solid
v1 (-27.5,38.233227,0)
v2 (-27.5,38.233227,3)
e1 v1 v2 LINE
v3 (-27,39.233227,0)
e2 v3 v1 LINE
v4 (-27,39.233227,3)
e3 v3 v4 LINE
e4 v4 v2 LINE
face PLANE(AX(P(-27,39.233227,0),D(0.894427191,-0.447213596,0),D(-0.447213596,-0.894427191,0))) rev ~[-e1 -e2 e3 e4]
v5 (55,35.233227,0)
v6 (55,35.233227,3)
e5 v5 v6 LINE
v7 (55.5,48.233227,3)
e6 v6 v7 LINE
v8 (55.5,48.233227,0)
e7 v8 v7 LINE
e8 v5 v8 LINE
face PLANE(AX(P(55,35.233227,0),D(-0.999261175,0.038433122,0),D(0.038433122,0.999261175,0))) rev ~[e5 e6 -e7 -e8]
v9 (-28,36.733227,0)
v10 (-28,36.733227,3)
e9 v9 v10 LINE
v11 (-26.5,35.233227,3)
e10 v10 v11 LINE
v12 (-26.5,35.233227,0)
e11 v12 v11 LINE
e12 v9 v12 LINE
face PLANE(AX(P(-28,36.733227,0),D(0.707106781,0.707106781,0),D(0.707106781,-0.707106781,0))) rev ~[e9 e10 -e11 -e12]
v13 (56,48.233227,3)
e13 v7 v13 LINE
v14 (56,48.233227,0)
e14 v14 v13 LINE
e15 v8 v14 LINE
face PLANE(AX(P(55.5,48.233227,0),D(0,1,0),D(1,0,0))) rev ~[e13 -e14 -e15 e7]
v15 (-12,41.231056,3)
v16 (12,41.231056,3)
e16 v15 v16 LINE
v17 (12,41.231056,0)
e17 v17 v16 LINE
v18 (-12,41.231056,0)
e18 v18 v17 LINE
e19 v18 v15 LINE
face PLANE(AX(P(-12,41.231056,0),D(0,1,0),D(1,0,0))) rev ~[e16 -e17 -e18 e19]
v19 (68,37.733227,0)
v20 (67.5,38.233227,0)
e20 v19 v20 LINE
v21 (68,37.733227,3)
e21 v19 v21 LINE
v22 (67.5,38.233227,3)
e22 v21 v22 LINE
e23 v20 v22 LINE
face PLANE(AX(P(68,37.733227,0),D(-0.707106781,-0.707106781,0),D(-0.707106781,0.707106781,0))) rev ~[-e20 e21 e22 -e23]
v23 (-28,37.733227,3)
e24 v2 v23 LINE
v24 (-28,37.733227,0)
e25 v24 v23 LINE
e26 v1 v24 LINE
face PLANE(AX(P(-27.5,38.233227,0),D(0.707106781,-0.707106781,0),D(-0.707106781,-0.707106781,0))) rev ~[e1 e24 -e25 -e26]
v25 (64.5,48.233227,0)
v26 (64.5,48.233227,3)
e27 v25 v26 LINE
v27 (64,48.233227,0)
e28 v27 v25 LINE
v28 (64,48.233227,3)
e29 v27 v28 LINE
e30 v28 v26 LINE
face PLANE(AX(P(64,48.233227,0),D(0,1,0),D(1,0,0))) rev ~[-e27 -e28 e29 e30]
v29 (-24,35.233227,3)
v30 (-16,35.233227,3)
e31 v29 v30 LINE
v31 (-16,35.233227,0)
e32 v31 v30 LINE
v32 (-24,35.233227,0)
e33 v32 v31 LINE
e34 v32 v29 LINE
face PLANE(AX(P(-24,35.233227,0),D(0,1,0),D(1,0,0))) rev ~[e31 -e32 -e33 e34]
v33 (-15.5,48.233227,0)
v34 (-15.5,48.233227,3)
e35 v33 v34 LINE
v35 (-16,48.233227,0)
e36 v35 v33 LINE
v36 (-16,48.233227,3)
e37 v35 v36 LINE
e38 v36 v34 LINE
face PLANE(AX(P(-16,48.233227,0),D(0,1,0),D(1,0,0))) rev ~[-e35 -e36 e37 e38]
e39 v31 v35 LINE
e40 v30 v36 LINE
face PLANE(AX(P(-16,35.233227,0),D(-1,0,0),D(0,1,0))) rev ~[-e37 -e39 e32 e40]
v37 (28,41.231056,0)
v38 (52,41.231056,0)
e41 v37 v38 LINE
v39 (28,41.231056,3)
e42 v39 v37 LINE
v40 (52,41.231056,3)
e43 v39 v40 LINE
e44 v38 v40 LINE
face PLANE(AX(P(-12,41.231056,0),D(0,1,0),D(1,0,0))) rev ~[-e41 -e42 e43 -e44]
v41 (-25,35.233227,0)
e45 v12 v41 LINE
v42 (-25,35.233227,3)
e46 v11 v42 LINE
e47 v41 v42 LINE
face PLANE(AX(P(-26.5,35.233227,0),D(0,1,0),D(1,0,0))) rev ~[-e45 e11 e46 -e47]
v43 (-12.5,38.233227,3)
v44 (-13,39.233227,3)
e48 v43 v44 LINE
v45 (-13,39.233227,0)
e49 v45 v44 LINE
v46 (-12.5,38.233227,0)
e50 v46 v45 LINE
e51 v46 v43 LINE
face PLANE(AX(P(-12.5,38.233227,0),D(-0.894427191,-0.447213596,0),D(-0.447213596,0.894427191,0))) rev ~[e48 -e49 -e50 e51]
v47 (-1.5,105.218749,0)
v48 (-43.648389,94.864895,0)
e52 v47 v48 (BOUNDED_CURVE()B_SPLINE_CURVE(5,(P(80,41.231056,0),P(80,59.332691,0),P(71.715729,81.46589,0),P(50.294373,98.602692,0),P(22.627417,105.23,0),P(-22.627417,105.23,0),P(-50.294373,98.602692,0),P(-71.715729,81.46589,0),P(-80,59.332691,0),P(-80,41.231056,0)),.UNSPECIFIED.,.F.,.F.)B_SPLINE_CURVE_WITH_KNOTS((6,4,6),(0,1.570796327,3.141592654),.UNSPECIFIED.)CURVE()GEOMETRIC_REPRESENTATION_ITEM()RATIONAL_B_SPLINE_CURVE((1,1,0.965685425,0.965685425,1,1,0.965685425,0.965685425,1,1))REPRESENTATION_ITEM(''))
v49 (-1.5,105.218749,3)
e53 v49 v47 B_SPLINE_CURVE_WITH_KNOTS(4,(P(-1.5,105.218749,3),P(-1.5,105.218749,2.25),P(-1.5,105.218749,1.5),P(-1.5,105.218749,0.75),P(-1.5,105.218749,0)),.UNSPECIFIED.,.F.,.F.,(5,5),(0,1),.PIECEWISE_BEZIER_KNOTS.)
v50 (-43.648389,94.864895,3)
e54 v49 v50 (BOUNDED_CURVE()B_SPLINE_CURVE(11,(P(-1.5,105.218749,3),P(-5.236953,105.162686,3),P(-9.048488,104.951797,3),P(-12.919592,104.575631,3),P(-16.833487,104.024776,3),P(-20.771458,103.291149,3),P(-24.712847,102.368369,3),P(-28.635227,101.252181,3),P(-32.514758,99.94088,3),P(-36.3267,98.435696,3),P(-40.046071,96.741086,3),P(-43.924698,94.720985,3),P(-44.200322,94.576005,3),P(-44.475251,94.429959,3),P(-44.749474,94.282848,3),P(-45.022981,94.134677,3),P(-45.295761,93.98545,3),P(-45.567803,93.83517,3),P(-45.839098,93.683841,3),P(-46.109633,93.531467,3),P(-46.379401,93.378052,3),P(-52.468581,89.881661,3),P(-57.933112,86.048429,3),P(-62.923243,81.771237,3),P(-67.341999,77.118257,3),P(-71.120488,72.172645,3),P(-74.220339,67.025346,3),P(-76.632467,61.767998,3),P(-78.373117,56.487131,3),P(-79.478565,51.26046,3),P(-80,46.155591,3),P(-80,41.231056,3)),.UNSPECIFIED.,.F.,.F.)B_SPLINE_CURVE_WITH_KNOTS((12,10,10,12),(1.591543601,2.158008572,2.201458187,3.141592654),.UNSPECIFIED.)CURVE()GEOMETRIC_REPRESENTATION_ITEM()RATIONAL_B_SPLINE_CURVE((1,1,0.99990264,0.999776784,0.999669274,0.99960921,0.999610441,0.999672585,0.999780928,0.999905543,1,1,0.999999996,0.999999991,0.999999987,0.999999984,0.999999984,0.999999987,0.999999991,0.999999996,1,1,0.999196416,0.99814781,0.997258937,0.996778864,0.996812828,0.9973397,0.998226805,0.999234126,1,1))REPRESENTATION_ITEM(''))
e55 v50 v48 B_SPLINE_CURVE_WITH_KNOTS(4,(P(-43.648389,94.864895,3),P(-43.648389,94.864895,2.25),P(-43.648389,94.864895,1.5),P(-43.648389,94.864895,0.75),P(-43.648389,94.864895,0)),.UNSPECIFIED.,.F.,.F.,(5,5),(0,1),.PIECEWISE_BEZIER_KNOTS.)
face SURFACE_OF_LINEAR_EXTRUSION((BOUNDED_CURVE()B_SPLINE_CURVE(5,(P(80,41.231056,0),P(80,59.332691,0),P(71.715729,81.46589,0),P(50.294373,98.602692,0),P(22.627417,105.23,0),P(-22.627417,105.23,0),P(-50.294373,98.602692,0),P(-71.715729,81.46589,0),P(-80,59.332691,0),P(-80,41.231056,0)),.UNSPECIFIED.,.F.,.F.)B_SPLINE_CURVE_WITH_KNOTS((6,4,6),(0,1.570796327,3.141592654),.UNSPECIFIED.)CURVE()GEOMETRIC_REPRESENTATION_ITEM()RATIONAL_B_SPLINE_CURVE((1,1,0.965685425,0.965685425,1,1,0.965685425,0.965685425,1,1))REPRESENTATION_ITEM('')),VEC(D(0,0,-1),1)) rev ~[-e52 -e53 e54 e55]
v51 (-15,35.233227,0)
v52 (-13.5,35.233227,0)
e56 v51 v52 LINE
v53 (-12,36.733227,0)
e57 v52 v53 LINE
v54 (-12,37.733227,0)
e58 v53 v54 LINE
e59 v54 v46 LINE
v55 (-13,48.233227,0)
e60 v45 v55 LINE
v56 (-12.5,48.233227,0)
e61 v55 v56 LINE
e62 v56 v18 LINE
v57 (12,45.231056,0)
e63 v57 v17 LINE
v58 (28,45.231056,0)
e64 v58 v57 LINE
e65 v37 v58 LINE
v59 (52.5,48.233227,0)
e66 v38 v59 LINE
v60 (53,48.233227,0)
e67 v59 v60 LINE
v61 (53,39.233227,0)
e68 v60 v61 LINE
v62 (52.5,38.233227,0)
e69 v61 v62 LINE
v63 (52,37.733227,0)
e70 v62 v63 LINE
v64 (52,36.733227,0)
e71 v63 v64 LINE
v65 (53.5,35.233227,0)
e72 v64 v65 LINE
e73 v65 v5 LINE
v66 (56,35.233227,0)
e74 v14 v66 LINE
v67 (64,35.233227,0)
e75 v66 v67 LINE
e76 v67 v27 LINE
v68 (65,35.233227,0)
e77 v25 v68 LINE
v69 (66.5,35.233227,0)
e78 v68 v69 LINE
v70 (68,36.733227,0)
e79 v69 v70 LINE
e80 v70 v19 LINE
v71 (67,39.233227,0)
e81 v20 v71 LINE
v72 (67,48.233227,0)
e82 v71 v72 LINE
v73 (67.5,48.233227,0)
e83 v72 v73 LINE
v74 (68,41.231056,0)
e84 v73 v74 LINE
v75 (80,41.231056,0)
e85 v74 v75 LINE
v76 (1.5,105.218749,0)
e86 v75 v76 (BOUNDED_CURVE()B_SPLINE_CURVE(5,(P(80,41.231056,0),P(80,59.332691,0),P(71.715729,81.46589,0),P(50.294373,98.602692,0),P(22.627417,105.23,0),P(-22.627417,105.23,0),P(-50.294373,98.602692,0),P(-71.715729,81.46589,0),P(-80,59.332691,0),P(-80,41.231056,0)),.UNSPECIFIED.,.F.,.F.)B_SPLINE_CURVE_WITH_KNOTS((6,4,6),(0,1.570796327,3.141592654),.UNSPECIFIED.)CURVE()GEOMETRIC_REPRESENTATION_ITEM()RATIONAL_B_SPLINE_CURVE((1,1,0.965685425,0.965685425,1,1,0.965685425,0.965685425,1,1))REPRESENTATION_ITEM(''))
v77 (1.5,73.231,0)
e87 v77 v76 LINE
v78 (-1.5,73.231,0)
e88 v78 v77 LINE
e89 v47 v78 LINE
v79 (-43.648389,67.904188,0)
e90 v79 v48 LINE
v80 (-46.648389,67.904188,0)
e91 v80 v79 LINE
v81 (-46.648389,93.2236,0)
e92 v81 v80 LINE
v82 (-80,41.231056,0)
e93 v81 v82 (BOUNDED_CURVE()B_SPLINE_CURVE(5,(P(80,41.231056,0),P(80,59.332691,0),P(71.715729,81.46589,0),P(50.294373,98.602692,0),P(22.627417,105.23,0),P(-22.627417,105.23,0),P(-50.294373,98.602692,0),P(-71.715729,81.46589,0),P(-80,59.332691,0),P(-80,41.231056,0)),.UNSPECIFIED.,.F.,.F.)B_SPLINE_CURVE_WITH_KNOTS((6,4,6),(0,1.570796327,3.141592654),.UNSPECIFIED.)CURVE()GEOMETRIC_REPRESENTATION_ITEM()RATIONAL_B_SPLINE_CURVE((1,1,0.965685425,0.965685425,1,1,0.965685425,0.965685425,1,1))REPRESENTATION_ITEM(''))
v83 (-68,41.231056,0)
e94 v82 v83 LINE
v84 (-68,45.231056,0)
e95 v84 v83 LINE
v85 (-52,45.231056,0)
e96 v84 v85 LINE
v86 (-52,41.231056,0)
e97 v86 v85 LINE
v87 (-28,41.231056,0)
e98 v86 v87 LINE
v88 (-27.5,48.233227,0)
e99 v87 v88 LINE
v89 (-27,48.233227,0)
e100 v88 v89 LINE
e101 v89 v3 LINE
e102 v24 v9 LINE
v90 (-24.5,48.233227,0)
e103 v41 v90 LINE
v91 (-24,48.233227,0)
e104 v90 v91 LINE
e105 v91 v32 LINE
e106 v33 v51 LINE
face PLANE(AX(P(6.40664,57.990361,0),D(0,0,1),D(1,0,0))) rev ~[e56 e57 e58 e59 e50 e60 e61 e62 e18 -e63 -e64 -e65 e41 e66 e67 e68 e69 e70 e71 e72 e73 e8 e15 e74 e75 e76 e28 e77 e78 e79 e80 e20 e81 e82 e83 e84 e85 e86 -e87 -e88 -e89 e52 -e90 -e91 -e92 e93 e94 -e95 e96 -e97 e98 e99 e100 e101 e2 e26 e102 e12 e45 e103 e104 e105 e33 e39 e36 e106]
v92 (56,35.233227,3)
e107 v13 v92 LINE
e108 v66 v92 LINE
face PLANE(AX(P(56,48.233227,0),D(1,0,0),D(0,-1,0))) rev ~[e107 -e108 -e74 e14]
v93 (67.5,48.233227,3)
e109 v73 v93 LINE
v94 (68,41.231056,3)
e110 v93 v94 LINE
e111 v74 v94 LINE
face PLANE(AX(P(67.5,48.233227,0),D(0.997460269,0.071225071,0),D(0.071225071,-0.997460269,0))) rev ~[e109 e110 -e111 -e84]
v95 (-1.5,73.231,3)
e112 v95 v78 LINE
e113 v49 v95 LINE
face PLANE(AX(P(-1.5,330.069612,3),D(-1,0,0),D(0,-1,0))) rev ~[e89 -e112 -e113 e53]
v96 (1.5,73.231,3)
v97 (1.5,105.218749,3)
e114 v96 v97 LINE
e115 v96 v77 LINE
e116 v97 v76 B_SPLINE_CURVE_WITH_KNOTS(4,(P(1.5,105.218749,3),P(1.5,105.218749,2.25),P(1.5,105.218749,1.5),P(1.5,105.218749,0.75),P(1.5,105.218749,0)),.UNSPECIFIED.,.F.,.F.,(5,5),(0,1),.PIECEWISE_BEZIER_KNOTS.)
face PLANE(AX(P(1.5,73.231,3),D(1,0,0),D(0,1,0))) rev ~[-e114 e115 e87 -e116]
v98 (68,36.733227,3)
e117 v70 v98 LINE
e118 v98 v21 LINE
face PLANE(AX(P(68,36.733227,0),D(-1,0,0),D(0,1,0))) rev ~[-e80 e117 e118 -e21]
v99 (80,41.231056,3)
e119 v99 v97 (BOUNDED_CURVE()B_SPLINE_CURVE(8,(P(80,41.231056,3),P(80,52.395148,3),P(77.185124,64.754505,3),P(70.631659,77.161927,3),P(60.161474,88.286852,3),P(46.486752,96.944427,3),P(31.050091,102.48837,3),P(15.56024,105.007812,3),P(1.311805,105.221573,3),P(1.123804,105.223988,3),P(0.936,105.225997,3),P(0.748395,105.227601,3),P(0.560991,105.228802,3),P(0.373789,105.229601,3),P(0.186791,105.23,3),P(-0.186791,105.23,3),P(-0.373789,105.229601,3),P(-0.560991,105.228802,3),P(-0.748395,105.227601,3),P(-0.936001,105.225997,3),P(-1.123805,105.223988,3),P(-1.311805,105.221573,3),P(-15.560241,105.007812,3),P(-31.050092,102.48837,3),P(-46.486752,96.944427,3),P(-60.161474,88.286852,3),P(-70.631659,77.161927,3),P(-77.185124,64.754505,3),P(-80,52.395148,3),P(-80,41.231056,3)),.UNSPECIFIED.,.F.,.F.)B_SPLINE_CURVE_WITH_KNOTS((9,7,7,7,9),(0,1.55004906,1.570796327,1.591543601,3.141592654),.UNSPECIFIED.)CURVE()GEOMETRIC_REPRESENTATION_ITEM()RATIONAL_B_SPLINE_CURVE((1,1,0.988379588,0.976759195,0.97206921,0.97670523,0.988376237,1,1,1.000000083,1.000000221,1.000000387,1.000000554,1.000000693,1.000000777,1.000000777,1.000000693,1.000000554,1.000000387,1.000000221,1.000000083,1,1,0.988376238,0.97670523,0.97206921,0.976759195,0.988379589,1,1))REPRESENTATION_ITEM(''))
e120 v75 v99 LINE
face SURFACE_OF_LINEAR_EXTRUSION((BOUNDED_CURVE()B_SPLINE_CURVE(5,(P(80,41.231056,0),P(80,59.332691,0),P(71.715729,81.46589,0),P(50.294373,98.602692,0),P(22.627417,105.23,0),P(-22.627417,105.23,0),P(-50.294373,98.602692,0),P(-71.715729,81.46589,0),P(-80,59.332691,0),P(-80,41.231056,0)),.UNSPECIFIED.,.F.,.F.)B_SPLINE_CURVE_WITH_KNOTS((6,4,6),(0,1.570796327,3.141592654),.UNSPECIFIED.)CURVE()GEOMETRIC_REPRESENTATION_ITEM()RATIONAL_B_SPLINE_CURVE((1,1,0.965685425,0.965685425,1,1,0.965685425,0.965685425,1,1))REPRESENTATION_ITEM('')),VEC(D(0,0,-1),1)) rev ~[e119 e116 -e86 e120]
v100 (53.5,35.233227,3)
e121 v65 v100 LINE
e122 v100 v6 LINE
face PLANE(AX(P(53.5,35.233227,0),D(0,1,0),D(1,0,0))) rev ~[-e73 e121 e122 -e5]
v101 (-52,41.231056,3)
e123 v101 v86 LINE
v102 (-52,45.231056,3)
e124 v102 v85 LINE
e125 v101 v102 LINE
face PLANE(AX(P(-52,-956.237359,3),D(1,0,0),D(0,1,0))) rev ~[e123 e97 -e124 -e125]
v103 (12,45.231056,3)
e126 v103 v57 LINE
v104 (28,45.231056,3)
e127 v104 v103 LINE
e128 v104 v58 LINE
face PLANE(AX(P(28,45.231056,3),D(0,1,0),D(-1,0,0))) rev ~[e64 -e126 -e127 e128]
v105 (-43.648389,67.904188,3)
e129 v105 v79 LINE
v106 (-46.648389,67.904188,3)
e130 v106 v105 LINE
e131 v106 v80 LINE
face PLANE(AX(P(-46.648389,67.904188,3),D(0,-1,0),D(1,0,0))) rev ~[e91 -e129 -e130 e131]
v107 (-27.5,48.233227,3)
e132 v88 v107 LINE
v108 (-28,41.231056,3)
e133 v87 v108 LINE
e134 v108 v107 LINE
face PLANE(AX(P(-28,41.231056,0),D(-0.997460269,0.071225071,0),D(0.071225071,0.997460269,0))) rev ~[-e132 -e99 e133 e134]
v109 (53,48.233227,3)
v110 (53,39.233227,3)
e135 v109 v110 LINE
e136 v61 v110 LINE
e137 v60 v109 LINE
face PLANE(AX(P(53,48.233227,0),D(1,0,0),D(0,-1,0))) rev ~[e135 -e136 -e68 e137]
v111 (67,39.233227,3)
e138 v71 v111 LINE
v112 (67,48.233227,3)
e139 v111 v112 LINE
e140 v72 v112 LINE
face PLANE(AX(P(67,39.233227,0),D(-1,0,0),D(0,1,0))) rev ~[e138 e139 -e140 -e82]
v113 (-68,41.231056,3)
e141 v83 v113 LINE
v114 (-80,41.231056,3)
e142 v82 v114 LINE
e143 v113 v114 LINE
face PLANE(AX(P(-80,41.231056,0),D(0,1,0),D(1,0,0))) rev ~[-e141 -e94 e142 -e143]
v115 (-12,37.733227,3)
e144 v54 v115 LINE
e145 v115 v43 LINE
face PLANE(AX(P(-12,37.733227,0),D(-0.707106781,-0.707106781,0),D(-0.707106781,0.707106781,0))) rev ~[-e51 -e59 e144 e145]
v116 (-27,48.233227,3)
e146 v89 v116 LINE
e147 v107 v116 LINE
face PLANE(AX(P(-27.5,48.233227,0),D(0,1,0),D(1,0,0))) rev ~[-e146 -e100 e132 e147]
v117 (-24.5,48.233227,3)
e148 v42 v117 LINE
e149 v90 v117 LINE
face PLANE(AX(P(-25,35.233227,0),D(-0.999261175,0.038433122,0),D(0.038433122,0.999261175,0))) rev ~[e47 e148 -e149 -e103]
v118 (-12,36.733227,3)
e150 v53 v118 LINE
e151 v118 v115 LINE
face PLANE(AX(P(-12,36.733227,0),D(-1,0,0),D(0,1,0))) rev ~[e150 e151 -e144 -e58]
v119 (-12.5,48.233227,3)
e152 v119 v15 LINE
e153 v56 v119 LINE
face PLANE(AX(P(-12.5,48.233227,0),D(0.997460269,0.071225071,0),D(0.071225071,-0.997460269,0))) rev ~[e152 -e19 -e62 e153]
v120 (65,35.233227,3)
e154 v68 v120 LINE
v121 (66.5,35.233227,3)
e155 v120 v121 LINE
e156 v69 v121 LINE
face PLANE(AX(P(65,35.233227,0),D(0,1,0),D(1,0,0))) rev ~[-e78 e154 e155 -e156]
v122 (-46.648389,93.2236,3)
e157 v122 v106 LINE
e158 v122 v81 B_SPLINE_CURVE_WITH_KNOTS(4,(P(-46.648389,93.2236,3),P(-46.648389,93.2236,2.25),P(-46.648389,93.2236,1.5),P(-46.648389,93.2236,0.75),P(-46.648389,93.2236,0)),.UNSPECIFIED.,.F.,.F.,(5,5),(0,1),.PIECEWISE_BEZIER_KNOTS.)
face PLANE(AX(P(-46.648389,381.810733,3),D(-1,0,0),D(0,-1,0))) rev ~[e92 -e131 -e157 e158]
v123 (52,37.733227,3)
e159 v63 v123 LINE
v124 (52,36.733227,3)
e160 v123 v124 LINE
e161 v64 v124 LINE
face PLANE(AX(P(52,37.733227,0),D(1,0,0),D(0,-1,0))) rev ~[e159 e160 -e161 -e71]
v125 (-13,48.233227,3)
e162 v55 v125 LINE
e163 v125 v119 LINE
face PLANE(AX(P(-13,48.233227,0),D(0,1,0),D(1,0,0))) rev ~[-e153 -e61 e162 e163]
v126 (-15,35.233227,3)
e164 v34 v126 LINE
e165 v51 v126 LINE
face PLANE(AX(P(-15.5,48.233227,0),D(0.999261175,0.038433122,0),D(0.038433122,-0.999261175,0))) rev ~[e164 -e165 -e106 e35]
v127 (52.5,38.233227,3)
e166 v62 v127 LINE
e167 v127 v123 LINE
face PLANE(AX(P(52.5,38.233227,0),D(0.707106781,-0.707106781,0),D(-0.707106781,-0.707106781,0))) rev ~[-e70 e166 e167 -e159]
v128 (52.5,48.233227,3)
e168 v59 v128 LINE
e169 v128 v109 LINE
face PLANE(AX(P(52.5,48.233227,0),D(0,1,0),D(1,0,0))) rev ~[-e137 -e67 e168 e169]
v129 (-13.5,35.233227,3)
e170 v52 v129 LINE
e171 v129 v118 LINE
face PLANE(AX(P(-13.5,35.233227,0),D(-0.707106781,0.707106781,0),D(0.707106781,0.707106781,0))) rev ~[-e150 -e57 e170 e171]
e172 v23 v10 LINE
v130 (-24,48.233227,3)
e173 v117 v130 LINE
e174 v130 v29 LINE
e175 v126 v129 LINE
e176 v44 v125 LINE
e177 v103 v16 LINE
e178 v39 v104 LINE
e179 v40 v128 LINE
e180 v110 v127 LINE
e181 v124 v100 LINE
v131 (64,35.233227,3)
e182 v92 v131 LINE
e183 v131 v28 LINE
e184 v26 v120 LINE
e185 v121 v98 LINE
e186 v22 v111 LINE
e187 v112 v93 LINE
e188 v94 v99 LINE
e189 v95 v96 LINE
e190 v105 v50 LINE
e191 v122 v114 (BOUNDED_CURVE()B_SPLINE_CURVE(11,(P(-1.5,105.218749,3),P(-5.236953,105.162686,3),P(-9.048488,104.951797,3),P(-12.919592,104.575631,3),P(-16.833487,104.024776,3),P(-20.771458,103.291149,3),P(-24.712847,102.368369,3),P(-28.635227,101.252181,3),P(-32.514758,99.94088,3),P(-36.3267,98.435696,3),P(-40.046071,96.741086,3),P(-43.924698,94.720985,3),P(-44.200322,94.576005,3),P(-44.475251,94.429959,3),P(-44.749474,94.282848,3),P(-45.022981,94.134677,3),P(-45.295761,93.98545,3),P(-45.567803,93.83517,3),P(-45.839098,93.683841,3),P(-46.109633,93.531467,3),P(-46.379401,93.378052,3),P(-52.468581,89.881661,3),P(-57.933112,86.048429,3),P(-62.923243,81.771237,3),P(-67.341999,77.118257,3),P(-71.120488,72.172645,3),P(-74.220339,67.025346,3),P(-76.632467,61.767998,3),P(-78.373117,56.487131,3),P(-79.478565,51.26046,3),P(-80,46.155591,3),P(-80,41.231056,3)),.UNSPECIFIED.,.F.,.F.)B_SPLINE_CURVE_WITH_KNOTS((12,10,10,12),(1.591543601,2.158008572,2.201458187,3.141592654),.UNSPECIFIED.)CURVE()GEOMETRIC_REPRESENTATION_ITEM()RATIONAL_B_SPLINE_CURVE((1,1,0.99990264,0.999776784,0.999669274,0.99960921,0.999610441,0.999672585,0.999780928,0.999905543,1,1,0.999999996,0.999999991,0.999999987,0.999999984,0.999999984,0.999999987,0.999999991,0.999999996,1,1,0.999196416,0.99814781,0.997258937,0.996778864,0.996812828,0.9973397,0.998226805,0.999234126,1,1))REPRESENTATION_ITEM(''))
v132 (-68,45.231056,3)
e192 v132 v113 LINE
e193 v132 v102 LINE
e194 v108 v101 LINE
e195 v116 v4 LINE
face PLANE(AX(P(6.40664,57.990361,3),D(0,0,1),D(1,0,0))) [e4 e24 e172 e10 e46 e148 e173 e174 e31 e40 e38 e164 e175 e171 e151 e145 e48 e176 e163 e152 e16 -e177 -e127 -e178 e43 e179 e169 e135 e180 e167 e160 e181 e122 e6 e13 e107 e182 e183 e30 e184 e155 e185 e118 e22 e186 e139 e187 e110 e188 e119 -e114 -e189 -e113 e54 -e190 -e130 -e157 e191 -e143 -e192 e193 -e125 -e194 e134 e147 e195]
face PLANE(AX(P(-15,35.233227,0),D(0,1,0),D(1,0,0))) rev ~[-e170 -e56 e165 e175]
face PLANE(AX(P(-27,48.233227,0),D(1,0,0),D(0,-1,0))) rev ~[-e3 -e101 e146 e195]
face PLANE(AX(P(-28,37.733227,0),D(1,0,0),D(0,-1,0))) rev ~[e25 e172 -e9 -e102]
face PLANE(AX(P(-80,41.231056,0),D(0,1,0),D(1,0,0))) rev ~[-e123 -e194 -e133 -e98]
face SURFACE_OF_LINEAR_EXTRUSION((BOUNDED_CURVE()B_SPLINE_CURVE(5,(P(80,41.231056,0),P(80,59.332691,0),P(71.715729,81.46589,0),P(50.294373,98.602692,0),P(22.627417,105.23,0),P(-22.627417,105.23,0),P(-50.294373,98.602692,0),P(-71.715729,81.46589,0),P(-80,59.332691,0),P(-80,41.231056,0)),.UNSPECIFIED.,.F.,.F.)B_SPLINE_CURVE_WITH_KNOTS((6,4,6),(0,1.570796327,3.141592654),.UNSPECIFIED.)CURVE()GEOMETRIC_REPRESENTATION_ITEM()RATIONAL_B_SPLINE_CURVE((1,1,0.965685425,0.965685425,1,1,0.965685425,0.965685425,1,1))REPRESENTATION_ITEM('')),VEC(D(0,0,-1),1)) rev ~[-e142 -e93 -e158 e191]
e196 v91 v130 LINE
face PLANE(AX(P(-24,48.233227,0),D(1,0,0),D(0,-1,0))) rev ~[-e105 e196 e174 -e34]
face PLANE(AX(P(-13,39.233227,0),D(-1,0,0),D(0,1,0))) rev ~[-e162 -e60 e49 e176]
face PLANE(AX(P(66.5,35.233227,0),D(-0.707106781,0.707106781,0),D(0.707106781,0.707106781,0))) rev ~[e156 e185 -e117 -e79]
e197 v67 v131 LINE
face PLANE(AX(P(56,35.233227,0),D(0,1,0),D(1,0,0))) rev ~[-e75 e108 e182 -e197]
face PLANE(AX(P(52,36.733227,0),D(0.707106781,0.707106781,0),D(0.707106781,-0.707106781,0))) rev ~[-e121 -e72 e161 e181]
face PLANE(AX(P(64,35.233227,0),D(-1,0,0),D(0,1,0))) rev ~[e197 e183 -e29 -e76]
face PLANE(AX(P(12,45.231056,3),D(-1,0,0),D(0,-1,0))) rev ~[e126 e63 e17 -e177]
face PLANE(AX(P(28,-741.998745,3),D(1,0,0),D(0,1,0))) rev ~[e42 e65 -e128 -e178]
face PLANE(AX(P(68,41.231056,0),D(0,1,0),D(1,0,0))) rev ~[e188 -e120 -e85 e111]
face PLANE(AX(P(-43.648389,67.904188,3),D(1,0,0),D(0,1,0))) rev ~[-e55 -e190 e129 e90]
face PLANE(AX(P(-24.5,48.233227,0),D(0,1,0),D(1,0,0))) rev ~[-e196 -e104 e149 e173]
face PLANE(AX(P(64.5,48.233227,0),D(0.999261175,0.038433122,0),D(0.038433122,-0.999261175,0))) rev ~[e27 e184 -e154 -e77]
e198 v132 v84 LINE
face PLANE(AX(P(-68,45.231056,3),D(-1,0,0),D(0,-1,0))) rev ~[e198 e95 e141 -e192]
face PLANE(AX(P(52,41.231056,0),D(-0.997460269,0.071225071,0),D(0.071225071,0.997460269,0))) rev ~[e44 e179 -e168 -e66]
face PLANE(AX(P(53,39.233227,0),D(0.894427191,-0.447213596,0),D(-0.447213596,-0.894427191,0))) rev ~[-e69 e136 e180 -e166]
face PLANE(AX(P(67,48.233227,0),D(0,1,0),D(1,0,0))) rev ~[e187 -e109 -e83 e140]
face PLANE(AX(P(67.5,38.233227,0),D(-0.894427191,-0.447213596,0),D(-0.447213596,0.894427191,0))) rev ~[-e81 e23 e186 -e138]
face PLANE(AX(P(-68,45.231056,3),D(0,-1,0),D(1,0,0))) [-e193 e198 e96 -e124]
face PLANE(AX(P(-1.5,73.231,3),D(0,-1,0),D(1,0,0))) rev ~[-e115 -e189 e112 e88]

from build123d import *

# Parameters (mm, degrees)
BOSS_EXTRUDE1_DEPTH     = 3
CUT_EXTRUDE1_DEPTH      = 1.0000001
CUT_EXTRUDE1_DEPTH_BACK = 3
CUT_EXTRUDE2_DEPTH      = 1.0000001
CUT_EXTRUDE2_DEPTH_BACK = 3
CUT_EXTRUDE3_DEPTH      = 1.0000001
CUT_EXTRUDE3_DEPTH_BACK = 3
CUT_EXTRUDE4_DEPTH      = 1.0000001
CUT_EXTRUDE4_DEPTH_BACK = 3


with BuildPart() as part:
    # Sketch1 → Boss-Extrude1 (new body)
    with BuildSketch(Plane.XY):
        with BuildLine():
            Line((-80, 41.231056256), (-28, 41.231056256))
            Line((-28, 41.231056256), (-27.5, 48.233227348))
            Line((-27.5, 48.233227348), (-27, 48.233227348))
            Line((-27, 48.233227348), (-27, 39.233227348))
            Line((-27, 39.233227348), (-27.5, 38.233227348))
            Line((-27.5, 38.233227348), (-28, 37.733227348))
            Line((-28, 37.733227348), (-28, 36.733227348))
            Line((-28, 36.733227348), (-26.5, 35.233227348))
            Line((-26.5, 35.233227348), (-25, 35.233227348))
            Line((-25, 35.233227348), (-24.5, 48.233227348))
            Line((-24.5, 48.233227348), (-24, 48.233227348))
            Line((-24, 48.233227348), (-24, 35.233227348))
            Line((-24, 35.233227348), (-16, 35.233227348))
            Line((-16, 35.233227348), (-16, 48.233227348))
            Line((-16, 48.233227348), (-15.5, 48.233227348))
            Line((-15.5, 48.233227348), (-15, 35.233227348))
            Line((-15, 35.233227348), (-13.5, 35.233227348))
            Line((-13.5, 35.233227348), (-12, 36.733227348))
            Line((-12, 36.733227348), (-12, 37.733227348))
            Line((-12, 37.733227348), (-12.5, 38.233227348))
            Line((-12.5, 38.233227348), (-13, 39.233227348))
            Line((-13, 39.233227348), (-13, 48.233227348))
            Line((-13, 48.233227348), (-12.5, 48.233227348))
            Line((-12.5, 48.233227348), (-12, 41.231056256))
            Line((-12, 41.231056256), (52, 41.231056256))
            Line((52, 41.231056256), (52.5, 48.233227348))
            Line((52.5, 48.233227348), (53, 48.233227348))
            Line((53, 48.233227348), (53, 39.233227348))
            Line((53, 39.233227348), (52.5, 38.233227348))
            Line((52.5, 38.233227348), (52, 37.733227348))
            Line((52, 37.733227348), (52, 36.733227348))
            Line((52, 36.733227348), (53.5, 35.233227348))
            Line((53.5, 35.233227348), (55, 35.233227348))
            Line((55, 35.233227348), (55.5, 48.233227348))
            Line((55.5, 48.233227348), (56, 48.233227348))
            Line((56, 48.233227348), (56, 35.233227348))
            Line((56, 35.233227348), (64, 35.233227348))
            Line((64, 35.233227348), (64, 48.233227348))
            Line((64, 48.233227348), (64.5, 48.233227348))
            Line((64.5, 48.233227348), (65, 35.233227348))
            Line((65, 35.233227348), (66.5, 35.233227348))
            Line((66.5, 35.233227348), (68, 36.733227348))
            Line((68, 36.733227348), (68, 37.733227348))
            Line((68, 37.733227348), (67.5, 38.233227348))
            Line((67.5, 38.233227348), (67, 39.233227348))
            Line((67, 39.233227348), (67, 48.233227348))
            Line((67, 48.233227348), (67.5, 48.233227348))
            Line((67.5, 48.233227348), (68, 41.231056256))
            Line((68, 41.231056256), (80, 41.231056256))
            add(Edge.make_bspline(
                [(80, 41.231056256), (80, 105.23), (0, 105.23)],
                knots=[0, 0, 0, 1.570796327, 1.570796327, 1.570796327], degree=2, weights=[1, 0.707106781, 1]))
            add(Edge.make_bspline(
                [(0, 105.23), (-80, 105.23), (-80, 41.231056256)],
                knots=[1.570796327, 1.570796327, 1.570796327, 3.141592654, 3.141592654, 3.141592654], degree=2, weights=[1, 0.707106781, 1]))
        make_face()
    extrude(amount=BOSS_EXTRUDE1_DEPTH)

    # Sketch8 → Cut-Extrude1 (cut, two sides)
    with BuildSketch(Plane.XY.offset(3)) as cut_extrude1_sk:
        Polygon((-68, -291.258415465), (-68, 41.231056256), (-68, 45.231056256), (-52, 45.231056256), (-52, 41.231056256), (-52, -291.258415465), (-52, -956.237358907), (-68, -956.237358907), align=None)
    extrude(amount=CUT_EXTRUDE1_DEPTH, mode=Mode.SUBTRACT)
    extrude(cut_extrude1_sk.sketch, amount=-CUT_EXTRUDE1_DEPTH_BACK, mode=Mode.SUBTRACT)

    # Sketch9 → Cut-Extrude2 (cut, two sides)
    with BuildSketch(Plane.XY.offset(3)) as cut_extrude2_sk:
        Polygon((28, -219.845544284), (28, 41.231056256), (28, 45.231056256), (12, 45.231056256), (12, 41.231056256), (12, -219.845544284), (12, -741.998745365), (28, -741.998745365), align=None)
    extrude(amount=CUT_EXTRUDE2_DEPTH, mode=Mode.SUBTRACT)
    extrude(cut_extrude2_sk.sketch, amount=-CUT_EXTRUDE2_DEPTH_BACK, mode=Mode.SUBTRACT)

    # Sketch10 → Cut-Extrude3 (cut, two sides)
    with BuildSketch(Plane.XY.offset(3)) as cut_extrude3_sk:
        Polygon((-1.500000233, 330.069612224), (-1.500000233, 105.218749193), (-1.500000233, 73.231), (1.499999767, 73.231), (1.499999767, 105.2187492), (1.499999767, 330.069612231), (1.499998719, 779.771338291), (-1.500001281, 779.771338284), align=None)
    extrude(amount=CUT_EXTRUDE3_DEPTH, mode=Mode.SUBTRACT)
    extrude(cut_extrude3_sk.sketch, amount=-CUT_EXTRUDE3_DEPTH_BACK, mode=Mode.SUBTRACT)

    # Sketch11 → Cut-Extrude4 (cut, two sides)
    with BuildSketch(Plane.XY.offset(3)) as cut_extrude4_sk:
        Polygon((-46.64838896, 381.810733149), (-46.64838896, 93.22359963), (-46.64838896, 67.904187559), (-43.64838896, 67.904187559), (-43.64838896, 94.864894992), (-43.64838896, 383.452028511), (-320.670818857, 889.800434121), (-323.670818857, 888.159138759), align=None)
    extrude(amount=CUT_EXTRUDE4_DEPTH, mode=Mode.SUBTRACT)
    extrude(cut_extrude4_sk.sketch, amount=-CUT_EXTRUDE4_DEPTH_BACK, mode=Mode.SUBTRACT)


solid = part.part
